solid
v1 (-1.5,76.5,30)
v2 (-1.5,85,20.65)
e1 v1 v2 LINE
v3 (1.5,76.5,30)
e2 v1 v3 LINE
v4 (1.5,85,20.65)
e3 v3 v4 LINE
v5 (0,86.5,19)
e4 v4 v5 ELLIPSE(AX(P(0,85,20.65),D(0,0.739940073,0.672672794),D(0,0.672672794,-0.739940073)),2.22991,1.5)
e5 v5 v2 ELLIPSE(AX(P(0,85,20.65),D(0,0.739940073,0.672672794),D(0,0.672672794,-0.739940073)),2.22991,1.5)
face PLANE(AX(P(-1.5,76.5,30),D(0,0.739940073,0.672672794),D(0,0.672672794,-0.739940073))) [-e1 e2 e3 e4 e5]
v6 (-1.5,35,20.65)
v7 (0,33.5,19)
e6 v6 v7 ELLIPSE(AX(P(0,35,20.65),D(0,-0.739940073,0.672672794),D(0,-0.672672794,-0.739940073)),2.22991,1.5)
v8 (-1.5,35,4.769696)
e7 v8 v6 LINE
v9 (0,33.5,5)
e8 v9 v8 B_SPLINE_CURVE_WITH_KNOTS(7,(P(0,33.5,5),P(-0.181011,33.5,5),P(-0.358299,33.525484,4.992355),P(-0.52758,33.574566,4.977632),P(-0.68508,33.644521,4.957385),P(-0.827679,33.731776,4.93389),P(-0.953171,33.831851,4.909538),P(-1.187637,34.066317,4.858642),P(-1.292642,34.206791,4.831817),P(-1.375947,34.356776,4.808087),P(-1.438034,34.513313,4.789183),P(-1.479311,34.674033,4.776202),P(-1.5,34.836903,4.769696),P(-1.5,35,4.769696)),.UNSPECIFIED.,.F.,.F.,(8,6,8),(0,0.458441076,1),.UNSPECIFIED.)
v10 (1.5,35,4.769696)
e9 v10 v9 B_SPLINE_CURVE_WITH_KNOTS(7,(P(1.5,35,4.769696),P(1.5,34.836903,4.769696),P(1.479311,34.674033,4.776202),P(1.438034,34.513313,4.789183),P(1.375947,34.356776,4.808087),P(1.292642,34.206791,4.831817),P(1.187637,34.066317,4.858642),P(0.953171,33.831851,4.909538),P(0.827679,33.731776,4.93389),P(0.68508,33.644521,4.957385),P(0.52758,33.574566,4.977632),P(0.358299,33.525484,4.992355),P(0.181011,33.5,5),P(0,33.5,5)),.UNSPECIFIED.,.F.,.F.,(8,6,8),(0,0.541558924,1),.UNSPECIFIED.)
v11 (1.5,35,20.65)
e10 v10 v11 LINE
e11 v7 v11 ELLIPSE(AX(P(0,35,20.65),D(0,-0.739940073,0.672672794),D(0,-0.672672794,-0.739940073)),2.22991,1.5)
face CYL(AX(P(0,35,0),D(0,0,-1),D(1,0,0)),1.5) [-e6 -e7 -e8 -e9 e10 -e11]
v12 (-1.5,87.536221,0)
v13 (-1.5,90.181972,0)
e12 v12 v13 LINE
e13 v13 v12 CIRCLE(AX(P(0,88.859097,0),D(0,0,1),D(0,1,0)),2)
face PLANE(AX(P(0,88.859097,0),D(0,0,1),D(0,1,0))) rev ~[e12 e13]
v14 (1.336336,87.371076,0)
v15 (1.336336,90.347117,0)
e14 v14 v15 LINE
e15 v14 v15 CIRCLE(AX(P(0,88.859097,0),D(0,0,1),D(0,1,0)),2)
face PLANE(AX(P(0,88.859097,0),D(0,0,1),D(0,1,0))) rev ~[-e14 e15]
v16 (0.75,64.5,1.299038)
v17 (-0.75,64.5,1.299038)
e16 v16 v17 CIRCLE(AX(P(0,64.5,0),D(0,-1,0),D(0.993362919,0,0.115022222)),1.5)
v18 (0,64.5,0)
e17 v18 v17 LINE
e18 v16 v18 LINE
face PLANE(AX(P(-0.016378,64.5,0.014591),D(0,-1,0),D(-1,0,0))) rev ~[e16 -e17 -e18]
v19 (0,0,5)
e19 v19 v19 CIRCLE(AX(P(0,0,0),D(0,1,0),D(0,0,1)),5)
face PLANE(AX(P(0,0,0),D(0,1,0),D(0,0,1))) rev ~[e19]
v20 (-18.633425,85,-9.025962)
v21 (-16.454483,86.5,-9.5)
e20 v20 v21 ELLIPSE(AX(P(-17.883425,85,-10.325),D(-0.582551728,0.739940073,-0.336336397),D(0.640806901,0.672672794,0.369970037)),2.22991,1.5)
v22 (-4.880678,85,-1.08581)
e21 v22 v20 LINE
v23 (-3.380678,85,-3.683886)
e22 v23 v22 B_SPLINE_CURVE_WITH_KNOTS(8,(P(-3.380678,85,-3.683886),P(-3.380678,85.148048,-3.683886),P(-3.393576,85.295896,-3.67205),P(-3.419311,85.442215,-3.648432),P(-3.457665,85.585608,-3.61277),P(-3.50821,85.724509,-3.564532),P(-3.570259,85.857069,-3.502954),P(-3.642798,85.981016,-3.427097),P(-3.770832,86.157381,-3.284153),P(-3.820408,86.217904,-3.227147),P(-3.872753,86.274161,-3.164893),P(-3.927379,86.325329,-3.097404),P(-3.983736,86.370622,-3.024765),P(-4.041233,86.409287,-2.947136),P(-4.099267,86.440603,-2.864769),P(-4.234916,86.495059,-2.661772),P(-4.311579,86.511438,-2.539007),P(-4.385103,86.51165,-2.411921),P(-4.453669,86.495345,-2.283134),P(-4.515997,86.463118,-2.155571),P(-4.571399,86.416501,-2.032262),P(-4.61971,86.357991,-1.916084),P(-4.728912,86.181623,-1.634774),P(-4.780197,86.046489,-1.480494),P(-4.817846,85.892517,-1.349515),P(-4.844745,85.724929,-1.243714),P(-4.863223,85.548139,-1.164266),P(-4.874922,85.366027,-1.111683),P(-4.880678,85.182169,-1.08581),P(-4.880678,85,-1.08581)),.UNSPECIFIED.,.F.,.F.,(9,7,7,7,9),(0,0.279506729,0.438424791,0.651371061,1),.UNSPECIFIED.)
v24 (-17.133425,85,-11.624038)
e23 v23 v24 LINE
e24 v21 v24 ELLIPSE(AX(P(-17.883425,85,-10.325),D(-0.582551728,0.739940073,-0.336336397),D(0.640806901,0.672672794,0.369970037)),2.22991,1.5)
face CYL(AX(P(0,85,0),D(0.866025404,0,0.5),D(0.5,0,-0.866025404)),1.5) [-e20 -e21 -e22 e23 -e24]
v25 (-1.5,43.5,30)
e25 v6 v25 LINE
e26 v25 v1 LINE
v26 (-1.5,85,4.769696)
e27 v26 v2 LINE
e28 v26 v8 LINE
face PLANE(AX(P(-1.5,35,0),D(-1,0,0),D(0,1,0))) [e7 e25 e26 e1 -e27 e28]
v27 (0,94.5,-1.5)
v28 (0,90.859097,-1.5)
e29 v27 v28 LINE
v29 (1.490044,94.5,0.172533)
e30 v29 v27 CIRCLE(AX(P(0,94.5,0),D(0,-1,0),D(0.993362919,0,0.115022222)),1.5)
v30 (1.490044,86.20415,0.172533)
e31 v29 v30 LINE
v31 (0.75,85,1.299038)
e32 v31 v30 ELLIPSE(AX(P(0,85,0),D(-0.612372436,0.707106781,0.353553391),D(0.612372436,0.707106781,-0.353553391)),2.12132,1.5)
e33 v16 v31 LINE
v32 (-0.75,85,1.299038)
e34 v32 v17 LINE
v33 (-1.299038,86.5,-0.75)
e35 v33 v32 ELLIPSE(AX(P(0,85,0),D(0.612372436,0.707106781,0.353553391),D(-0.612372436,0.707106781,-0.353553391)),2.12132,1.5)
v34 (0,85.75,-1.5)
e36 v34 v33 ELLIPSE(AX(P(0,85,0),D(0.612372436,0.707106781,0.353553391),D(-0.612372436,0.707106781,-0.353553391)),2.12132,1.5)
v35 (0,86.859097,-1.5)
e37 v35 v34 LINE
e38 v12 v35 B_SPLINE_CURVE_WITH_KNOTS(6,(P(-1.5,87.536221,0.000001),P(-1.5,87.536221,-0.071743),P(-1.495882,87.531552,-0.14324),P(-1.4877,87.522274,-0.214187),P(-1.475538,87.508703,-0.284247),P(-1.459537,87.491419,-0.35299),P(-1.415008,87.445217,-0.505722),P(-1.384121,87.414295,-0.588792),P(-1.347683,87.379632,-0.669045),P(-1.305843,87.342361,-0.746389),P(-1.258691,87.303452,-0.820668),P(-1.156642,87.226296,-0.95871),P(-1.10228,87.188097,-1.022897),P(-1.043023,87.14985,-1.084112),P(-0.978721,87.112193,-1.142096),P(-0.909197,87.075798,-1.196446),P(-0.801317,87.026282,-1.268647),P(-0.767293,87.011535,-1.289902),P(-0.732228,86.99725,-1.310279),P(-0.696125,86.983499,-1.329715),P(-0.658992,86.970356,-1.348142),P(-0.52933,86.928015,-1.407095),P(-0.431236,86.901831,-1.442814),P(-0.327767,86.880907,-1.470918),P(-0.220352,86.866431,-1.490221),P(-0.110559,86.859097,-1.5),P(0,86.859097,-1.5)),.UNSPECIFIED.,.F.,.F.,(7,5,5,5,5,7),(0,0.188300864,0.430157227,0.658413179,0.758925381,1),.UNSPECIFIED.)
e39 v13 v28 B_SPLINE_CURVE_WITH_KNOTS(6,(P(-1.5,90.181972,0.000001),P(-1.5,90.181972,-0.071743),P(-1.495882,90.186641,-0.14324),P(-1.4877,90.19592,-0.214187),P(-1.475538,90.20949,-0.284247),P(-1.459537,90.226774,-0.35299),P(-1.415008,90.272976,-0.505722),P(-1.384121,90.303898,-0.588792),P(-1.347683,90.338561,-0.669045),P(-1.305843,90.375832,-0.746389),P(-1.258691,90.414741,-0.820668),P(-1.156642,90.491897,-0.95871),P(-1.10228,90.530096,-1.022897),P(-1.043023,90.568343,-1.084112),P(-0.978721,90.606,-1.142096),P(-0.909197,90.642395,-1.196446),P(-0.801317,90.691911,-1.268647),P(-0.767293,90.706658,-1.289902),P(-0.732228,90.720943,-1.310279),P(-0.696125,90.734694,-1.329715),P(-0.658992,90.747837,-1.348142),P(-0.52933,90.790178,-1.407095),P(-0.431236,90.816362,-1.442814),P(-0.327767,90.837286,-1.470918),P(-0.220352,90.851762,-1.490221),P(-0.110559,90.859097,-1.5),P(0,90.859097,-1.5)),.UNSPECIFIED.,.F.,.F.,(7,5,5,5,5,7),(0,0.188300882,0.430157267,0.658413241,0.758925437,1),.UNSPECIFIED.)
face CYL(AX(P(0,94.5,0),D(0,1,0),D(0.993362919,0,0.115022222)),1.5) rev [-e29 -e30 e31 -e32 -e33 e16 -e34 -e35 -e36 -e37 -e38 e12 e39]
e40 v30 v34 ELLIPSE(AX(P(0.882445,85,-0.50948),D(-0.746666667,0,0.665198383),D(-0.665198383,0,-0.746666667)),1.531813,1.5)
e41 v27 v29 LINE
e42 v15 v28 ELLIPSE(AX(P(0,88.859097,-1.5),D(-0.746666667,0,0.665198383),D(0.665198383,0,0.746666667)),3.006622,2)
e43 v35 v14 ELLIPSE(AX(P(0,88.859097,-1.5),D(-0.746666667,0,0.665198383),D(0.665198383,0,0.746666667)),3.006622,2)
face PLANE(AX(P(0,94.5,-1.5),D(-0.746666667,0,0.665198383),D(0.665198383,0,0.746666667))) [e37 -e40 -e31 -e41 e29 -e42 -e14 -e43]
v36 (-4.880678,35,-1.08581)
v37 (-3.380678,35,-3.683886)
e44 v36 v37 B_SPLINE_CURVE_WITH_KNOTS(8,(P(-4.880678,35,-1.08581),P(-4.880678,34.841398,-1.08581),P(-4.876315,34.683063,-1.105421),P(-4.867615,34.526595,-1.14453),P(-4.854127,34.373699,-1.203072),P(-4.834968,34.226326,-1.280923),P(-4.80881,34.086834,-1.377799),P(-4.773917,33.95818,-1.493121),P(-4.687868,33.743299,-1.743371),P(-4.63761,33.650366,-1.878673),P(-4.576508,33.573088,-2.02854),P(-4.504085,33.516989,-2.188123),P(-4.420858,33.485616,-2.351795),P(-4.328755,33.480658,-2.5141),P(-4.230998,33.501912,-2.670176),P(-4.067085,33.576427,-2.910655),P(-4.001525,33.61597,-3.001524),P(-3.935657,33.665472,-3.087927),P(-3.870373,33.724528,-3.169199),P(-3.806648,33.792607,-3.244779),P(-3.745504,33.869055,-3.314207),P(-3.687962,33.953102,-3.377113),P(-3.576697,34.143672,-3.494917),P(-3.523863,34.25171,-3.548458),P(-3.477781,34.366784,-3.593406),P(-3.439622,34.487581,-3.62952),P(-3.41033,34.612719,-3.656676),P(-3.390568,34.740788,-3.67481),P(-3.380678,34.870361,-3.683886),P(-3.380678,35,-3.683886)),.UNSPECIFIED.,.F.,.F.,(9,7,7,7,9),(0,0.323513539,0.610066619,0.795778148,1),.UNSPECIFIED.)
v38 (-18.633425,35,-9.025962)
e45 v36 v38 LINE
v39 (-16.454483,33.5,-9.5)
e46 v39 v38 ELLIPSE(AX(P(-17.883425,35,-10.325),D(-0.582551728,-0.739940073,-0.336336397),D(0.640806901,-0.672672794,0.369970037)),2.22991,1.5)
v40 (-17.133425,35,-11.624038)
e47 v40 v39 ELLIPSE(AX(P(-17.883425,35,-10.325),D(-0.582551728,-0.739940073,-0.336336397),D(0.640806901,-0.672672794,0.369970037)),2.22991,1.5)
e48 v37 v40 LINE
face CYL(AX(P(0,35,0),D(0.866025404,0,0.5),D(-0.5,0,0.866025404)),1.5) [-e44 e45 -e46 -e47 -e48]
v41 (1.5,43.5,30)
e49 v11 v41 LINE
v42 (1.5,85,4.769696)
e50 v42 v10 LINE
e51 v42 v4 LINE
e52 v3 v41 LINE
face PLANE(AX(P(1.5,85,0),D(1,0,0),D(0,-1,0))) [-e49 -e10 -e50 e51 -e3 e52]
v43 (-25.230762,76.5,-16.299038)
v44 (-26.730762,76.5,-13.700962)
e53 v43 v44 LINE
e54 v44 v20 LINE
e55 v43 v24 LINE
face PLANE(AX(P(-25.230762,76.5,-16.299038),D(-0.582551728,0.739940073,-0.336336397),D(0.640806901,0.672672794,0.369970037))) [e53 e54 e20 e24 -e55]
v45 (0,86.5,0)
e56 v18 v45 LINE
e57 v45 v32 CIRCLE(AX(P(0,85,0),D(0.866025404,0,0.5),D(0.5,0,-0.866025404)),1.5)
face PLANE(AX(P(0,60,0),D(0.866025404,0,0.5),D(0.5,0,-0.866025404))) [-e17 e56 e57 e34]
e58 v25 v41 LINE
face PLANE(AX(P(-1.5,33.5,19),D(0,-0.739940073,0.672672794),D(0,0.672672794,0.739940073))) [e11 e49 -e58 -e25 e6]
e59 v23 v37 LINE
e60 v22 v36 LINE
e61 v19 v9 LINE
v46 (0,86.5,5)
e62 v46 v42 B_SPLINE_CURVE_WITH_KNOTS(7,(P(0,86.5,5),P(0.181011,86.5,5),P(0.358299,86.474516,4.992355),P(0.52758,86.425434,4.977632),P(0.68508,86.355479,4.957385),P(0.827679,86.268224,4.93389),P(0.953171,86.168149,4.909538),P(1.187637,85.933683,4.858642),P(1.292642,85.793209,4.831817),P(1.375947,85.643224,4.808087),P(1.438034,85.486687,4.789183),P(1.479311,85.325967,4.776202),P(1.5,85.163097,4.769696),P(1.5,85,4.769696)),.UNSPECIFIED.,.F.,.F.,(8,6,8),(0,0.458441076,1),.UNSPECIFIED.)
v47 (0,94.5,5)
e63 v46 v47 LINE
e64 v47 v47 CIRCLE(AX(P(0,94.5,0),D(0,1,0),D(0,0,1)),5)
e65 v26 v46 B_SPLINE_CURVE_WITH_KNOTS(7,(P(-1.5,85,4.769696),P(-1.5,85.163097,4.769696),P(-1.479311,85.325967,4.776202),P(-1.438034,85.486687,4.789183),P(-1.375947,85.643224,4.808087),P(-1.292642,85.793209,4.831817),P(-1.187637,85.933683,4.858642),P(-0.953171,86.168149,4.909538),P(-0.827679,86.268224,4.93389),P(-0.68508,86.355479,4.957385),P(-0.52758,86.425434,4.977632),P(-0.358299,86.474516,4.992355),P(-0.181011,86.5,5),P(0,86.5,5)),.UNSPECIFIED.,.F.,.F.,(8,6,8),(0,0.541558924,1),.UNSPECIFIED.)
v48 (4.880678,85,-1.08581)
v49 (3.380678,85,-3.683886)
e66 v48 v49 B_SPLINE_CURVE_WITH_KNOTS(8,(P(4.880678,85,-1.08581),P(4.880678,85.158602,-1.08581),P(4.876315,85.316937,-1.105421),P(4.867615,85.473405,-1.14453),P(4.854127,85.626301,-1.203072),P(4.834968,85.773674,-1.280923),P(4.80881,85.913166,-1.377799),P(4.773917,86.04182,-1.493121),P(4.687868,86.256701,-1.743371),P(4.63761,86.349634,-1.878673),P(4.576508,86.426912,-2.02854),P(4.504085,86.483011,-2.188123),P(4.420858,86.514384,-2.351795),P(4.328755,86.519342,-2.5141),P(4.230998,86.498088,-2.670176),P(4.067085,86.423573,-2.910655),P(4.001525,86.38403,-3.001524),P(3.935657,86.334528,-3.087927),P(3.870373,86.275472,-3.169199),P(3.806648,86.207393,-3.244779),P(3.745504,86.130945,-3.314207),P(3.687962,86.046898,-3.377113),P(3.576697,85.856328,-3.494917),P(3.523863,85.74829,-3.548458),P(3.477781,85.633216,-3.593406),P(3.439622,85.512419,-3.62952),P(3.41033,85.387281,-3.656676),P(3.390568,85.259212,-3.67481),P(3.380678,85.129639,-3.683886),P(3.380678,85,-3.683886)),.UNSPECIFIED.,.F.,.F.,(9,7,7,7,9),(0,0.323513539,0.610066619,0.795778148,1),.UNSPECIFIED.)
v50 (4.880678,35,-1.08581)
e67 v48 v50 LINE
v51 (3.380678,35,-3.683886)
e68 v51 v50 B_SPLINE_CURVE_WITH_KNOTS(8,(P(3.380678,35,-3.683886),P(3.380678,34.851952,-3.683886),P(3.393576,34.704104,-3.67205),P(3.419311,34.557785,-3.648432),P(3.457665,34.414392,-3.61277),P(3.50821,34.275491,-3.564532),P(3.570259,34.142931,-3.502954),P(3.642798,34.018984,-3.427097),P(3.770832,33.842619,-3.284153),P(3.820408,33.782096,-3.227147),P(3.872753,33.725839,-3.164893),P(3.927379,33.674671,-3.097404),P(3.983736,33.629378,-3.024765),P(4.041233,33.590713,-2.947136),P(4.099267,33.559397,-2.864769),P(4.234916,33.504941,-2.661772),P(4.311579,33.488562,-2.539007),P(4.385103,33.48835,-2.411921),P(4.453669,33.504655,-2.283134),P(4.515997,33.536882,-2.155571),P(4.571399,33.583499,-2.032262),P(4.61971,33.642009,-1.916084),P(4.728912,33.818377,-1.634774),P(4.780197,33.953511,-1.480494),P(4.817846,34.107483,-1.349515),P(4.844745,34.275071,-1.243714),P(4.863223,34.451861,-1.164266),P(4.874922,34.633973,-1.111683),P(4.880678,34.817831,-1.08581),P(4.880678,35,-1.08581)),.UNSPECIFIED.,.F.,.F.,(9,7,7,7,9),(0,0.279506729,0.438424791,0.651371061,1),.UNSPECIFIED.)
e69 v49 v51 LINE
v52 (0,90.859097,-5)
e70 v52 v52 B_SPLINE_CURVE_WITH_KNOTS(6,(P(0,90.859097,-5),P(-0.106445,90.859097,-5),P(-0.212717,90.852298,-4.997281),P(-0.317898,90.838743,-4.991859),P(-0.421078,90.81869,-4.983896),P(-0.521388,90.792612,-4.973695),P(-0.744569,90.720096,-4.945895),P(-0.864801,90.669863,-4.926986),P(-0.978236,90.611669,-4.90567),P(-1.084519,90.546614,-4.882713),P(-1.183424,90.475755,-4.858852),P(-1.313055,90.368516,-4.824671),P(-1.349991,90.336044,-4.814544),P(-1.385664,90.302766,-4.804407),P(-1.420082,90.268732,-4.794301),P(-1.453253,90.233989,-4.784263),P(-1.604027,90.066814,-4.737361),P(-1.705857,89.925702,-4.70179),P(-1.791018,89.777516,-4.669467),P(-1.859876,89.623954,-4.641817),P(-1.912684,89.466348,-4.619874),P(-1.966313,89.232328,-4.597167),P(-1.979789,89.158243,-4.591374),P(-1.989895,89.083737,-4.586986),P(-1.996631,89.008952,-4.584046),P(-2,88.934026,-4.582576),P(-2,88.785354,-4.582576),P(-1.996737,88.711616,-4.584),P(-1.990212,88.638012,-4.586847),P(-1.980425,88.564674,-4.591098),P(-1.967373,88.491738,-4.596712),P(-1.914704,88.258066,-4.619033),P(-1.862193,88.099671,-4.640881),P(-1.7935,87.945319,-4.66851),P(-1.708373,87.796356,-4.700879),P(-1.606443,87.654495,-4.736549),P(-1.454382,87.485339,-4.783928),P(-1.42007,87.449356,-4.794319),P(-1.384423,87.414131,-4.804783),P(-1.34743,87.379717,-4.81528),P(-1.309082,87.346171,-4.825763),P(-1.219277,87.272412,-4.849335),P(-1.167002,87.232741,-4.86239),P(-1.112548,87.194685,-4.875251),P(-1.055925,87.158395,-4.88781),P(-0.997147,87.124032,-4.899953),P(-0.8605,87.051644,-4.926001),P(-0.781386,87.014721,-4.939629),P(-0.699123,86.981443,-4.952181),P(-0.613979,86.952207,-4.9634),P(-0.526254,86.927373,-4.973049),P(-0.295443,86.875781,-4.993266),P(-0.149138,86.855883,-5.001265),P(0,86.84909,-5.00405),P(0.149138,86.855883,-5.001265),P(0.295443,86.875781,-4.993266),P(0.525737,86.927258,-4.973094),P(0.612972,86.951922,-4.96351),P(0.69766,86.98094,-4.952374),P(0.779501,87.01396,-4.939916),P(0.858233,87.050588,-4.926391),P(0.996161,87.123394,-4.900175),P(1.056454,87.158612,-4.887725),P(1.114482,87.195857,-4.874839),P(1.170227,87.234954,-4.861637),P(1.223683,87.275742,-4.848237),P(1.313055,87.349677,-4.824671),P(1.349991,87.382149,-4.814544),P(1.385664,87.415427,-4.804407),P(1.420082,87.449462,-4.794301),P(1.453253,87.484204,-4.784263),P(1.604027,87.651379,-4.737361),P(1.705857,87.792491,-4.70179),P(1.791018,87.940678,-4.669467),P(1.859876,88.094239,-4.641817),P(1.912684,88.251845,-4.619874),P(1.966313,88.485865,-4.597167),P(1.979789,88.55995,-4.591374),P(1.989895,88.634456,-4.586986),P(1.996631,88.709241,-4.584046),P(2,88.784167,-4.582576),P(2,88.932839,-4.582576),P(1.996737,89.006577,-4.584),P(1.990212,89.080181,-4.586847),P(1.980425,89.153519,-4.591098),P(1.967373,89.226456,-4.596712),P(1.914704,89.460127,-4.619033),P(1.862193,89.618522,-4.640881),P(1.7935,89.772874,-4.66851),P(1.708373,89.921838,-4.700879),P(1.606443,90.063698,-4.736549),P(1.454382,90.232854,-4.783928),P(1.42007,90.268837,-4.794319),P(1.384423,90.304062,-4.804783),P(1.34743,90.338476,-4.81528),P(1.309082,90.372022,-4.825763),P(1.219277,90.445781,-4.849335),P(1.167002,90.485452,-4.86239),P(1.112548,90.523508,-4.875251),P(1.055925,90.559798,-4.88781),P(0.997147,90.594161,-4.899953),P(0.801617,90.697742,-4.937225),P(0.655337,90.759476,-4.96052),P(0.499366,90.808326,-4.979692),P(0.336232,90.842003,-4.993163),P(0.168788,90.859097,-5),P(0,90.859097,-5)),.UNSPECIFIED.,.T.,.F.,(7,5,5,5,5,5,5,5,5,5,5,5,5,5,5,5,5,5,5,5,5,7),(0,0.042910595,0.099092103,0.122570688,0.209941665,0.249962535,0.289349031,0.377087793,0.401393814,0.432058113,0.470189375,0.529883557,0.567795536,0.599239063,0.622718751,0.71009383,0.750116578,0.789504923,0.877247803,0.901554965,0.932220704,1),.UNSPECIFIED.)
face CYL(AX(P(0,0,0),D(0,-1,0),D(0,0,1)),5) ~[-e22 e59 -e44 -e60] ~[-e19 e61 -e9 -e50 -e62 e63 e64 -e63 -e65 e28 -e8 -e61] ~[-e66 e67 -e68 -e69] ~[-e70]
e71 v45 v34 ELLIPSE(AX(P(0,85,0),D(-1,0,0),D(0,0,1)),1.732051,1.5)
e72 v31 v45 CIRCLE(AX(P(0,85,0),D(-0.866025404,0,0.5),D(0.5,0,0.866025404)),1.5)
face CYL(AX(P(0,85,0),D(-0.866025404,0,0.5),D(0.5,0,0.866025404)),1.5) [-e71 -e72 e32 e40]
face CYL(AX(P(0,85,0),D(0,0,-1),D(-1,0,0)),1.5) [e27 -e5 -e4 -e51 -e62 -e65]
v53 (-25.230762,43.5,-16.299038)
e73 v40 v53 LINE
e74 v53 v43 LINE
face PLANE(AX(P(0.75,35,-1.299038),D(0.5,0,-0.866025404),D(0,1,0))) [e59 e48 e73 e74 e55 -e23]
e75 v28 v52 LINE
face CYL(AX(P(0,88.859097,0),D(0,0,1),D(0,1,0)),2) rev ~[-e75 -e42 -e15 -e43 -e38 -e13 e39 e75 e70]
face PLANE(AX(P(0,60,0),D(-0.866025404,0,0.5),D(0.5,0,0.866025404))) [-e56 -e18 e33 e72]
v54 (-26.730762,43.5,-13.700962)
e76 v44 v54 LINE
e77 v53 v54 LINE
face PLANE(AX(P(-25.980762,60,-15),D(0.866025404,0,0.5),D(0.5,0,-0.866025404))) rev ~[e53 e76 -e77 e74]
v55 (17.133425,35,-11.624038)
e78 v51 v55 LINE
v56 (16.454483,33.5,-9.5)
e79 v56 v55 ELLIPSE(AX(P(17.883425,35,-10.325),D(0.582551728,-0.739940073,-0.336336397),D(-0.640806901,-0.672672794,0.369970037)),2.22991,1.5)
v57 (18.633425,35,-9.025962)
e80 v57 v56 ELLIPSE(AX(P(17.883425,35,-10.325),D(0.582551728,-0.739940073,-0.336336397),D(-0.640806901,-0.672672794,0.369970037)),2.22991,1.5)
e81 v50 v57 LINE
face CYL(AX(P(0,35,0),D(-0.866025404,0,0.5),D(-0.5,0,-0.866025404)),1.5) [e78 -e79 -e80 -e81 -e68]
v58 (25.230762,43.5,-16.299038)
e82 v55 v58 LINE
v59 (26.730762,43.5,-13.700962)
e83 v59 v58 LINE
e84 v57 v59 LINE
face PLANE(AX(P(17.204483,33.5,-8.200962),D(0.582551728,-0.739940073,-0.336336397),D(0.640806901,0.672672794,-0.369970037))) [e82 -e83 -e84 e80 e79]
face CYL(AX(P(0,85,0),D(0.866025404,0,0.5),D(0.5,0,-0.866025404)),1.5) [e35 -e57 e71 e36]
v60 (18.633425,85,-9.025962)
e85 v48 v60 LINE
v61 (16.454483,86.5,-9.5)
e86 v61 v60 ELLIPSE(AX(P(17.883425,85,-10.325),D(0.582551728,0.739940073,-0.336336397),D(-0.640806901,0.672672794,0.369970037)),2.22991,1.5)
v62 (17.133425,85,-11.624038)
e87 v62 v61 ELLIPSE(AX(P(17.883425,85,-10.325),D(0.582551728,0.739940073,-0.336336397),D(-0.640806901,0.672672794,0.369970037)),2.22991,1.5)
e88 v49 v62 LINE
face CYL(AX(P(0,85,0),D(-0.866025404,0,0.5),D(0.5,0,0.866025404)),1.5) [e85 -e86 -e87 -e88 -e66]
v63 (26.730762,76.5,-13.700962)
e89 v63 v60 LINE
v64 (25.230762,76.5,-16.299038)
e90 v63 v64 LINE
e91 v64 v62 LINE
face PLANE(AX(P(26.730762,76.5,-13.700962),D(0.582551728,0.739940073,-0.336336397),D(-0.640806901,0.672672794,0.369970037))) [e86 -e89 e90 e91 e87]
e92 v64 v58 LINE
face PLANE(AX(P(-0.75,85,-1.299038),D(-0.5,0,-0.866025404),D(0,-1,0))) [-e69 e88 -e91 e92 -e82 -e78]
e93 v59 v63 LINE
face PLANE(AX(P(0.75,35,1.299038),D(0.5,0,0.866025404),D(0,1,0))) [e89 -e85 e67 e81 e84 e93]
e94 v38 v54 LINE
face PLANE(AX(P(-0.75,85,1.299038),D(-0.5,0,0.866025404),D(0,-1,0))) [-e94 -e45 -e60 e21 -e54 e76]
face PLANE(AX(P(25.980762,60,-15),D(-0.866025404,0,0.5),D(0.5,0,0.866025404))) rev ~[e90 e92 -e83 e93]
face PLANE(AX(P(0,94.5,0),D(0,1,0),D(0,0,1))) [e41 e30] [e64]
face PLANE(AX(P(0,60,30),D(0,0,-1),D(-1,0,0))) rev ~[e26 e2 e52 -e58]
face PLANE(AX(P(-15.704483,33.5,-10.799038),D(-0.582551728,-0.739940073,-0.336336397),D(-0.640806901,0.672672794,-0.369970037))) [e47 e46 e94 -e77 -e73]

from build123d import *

# Parameters (mm, degrees)
SKETCH2_R           = 5
BOSS_EXTRUDE1_DEPTH = 94.5
BOSS_EXTRUDE2_DEPTH = 30
CUT_EXTRUDE5_REACH  = 101.36
CUT_EXTRUDE1_DEPTH  = 30
SKETCH7_R           = 2
CUT_EXTRUDE2_DEPTH  = 10
CIRPATTERN1_COUNT   = 3
CUT_EXTRUDE6_REACH  = 104.514
CUT_EXTRUDE7_REACH  = 105.272


with BuildPart() as part:
    # Sketch2 → Boss-Extrude1 (new body)
    with BuildSketch(Plane(origin=(0, 0, 0), x_dir=(1, 0, 0), z_dir=(0, 1, 0))):
        Circle(SKETCH2_R)
    extrude(amount=BOSS_EXTRUDE1_DEPTH)

    # Sketch3 → Boss-Extrude2 (add)
    with BuildSketch(Plane.XY):
        with BuildLine():
            Line((1.5, 85), (1.5, 35))
            ThreePointArc((1.5, 35), (0, 33.5), (-1.5, 35))
            Line((-1.5, 35), (-1.5, 85))
            ThreePointArc((-1.5, 85), (0, 86.5), (1.5, 85))
        make_face()
    boss_extrude2 = extrude(amount=BOSS_EXTRUDE2_DEPTH)

    # Sketch12 → Cut-Extrude5 (cut, up to next)
    with BuildSketch(Plane.ZY.offset(1.5), mode=Mode.PRIVATE) as cut_extrude5_sk1:
        Polygon((30, 86.5), (30, 76.5), (19, 86.5), align=None)
    cut_extrude5_tool1 = extrude(cut_extrude5_sk1.sketch, amount=-CUT_EXTRUDE5_REACH, mode=Mode.PRIVATE) & part.part
    # Sketch12 → Cut-Extrude5 (cut, up to next)
    with BuildSketch(Plane.ZY.offset(1.5), mode=Mode.PRIVATE) as cut_extrude5_sk2:
        Polygon((30, 33.5), (19, 33.5), (30, 43.5), align=None)
    cut_extrude5_tool2 = extrude(cut_extrude5_sk2.sketch, amount=-CUT_EXTRUDE5_REACH, mode=Mode.PRIVATE) & part.part
    add(cut_extrude5_tool1.solids().sort_by_distance((-1.5, 83.166667, 26.333333))[0], mode=Mode.SUBTRACT)
    add(cut_extrude5_tool2.solids().sort_by_distance((-1.5, 36.833333, 26.333333))[0], mode=Mode.SUBTRACT)

    # Sketch6 → Cut-Extrude1 (cut)
    with BuildSketch(Plane(origin=(0, 94.5, 0), x_dir=(1, 0, 0), z_dir=(0, 1, 0))):
        with BuildLine():
            Line((0, 1.5), (1.490044378, -0.172533333))
            ThreePointArc((1.490044378, -0.172533333), (-1.12, -0.997797575), (0, 1.5))
        make_face()
    extrude(amount=-CUT_EXTRUDE1_DEPTH, mode=Mode.SUBTRACT)

    # Sketch7 → Cut-Extrude2 (cut)
    with BuildSketch(Plane.XY):
        with Locations((0, 88.859096579)):
            Circle(SKETCH7_R)
    extrude(amount=-CUT_EXTRUDE2_DEPTH, mode=Mode.SUBTRACT)

    # CirPattern1: Boss-Extrude2 ×3 about axis
    cirpattern1_axis = Axis((0, 94.5, 0), (0, -1, 0))
    for i in range(1, CIRPATTERN1_COUNT):
        add(boss_extrude2.rotate(cirpattern1_axis, i * 360 / CIRPATTERN1_COUNT))

    # Sketch13 → Cut-Extrude6 (cut, up to next)
    with BuildSketch(Plane(origin=(0.75, 0, 1.299038106), x_dir=(0.8660254037844431, 0, -0.499999999999992), z_dir=(0.49999999999999206, 0, 0.8660254037844433)), mode=Mode.PRIVATE) as cut_extrude6_sk1:
        Polygon((30, 86.5), (30, 76.5), (19, 86.5), align=None)
    cut_extrude6_tool1 = extrude(cut_extrude6_sk1.sketch, amount=-CUT_EXTRUDE6_REACH, mode=Mode.PRIVATE) & part.part
    # Sketch13 → Cut-Extrude6 (cut, up to next)
    with BuildSketch(Plane(origin=(0.75, 0, 1.299038106), x_dir=(0.8660254037844431, 0, -0.499999999999992), z_dir=(0.49999999999999206, 0, 0.8660254037844433)), mode=Mode.PRIVATE) as cut_extrude6_sk2:
        Polygon((30, 33.5), (19, 33.5), (30, 43.5), align=None)
    cut_extrude6_tool2 = extrude(cut_extrude6_sk2.sketch, amount=-CUT_EXTRUDE6_REACH, mode=Mode.PRIVATE) & part.part
    add(cut_extrude6_tool1.solids().sort_by_distance((23.555336, 83.166667, -11.867629))[0], mode=Mode.SUBTRACT)
    add(cut_extrude6_tool2.solids().sort_by_distance((23.555336, 36.833333, -11.867629))[0], mode=Mode.SUBTRACT)

    # Sketch14 → Cut-Extrude7 (cut, up to next)
    with BuildSketch(Plane(origin=(0.75, 0, -1.299038106), x_dir=(-0.8660254037844363, 0, -0.5000000000000043), z_dir=(0.5000000000000042, 0, -0.8660254037844362)), mode=Mode.PRIVATE) as cut_extrude7_sk1:
        Polygon((30, 86.5), (30, 76.5), (19, 86.5), align=None)
    cut_extrude7_tool1 = extrude(cut_extrude7_sk1.sketch, amount=-CUT_EXTRUDE7_REACH, mode=Mode.PRIVATE) & part.part
    # Sketch14 → Cut-Extrude7 (cut, up to next)
    with BuildSketch(Plane(origin=(0.75, 0, -1.299038106), x_dir=(-0.8660254037844363, 0, -0.5000000000000043), z_dir=(0.5000000000000042, 0, -0.8660254037844362)), mode=Mode.PRIVATE) as cut_extrude7_sk2:
        Polygon((30, 33.5), (19, 33.5), (30, 43.5), align=None)
    cut_extrude7_tool2 = extrude(cut_extrude7_sk2.sketch, amount=-CUT_EXTRUDE7_REACH, mode=Mode.PRIVATE) & part.part
    add(cut_extrude7_tool1.solids().sort_by_distance((-22.055336, 83.166667, -14.465705))[0], mode=Mode.SUBTRACT)
    add(cut_extrude7_tool2.solids().sort_by_distance((-22.055336, 36.833333, -14.465705))[0], mode=Mode.SUBTRACT)


solid = part.part
